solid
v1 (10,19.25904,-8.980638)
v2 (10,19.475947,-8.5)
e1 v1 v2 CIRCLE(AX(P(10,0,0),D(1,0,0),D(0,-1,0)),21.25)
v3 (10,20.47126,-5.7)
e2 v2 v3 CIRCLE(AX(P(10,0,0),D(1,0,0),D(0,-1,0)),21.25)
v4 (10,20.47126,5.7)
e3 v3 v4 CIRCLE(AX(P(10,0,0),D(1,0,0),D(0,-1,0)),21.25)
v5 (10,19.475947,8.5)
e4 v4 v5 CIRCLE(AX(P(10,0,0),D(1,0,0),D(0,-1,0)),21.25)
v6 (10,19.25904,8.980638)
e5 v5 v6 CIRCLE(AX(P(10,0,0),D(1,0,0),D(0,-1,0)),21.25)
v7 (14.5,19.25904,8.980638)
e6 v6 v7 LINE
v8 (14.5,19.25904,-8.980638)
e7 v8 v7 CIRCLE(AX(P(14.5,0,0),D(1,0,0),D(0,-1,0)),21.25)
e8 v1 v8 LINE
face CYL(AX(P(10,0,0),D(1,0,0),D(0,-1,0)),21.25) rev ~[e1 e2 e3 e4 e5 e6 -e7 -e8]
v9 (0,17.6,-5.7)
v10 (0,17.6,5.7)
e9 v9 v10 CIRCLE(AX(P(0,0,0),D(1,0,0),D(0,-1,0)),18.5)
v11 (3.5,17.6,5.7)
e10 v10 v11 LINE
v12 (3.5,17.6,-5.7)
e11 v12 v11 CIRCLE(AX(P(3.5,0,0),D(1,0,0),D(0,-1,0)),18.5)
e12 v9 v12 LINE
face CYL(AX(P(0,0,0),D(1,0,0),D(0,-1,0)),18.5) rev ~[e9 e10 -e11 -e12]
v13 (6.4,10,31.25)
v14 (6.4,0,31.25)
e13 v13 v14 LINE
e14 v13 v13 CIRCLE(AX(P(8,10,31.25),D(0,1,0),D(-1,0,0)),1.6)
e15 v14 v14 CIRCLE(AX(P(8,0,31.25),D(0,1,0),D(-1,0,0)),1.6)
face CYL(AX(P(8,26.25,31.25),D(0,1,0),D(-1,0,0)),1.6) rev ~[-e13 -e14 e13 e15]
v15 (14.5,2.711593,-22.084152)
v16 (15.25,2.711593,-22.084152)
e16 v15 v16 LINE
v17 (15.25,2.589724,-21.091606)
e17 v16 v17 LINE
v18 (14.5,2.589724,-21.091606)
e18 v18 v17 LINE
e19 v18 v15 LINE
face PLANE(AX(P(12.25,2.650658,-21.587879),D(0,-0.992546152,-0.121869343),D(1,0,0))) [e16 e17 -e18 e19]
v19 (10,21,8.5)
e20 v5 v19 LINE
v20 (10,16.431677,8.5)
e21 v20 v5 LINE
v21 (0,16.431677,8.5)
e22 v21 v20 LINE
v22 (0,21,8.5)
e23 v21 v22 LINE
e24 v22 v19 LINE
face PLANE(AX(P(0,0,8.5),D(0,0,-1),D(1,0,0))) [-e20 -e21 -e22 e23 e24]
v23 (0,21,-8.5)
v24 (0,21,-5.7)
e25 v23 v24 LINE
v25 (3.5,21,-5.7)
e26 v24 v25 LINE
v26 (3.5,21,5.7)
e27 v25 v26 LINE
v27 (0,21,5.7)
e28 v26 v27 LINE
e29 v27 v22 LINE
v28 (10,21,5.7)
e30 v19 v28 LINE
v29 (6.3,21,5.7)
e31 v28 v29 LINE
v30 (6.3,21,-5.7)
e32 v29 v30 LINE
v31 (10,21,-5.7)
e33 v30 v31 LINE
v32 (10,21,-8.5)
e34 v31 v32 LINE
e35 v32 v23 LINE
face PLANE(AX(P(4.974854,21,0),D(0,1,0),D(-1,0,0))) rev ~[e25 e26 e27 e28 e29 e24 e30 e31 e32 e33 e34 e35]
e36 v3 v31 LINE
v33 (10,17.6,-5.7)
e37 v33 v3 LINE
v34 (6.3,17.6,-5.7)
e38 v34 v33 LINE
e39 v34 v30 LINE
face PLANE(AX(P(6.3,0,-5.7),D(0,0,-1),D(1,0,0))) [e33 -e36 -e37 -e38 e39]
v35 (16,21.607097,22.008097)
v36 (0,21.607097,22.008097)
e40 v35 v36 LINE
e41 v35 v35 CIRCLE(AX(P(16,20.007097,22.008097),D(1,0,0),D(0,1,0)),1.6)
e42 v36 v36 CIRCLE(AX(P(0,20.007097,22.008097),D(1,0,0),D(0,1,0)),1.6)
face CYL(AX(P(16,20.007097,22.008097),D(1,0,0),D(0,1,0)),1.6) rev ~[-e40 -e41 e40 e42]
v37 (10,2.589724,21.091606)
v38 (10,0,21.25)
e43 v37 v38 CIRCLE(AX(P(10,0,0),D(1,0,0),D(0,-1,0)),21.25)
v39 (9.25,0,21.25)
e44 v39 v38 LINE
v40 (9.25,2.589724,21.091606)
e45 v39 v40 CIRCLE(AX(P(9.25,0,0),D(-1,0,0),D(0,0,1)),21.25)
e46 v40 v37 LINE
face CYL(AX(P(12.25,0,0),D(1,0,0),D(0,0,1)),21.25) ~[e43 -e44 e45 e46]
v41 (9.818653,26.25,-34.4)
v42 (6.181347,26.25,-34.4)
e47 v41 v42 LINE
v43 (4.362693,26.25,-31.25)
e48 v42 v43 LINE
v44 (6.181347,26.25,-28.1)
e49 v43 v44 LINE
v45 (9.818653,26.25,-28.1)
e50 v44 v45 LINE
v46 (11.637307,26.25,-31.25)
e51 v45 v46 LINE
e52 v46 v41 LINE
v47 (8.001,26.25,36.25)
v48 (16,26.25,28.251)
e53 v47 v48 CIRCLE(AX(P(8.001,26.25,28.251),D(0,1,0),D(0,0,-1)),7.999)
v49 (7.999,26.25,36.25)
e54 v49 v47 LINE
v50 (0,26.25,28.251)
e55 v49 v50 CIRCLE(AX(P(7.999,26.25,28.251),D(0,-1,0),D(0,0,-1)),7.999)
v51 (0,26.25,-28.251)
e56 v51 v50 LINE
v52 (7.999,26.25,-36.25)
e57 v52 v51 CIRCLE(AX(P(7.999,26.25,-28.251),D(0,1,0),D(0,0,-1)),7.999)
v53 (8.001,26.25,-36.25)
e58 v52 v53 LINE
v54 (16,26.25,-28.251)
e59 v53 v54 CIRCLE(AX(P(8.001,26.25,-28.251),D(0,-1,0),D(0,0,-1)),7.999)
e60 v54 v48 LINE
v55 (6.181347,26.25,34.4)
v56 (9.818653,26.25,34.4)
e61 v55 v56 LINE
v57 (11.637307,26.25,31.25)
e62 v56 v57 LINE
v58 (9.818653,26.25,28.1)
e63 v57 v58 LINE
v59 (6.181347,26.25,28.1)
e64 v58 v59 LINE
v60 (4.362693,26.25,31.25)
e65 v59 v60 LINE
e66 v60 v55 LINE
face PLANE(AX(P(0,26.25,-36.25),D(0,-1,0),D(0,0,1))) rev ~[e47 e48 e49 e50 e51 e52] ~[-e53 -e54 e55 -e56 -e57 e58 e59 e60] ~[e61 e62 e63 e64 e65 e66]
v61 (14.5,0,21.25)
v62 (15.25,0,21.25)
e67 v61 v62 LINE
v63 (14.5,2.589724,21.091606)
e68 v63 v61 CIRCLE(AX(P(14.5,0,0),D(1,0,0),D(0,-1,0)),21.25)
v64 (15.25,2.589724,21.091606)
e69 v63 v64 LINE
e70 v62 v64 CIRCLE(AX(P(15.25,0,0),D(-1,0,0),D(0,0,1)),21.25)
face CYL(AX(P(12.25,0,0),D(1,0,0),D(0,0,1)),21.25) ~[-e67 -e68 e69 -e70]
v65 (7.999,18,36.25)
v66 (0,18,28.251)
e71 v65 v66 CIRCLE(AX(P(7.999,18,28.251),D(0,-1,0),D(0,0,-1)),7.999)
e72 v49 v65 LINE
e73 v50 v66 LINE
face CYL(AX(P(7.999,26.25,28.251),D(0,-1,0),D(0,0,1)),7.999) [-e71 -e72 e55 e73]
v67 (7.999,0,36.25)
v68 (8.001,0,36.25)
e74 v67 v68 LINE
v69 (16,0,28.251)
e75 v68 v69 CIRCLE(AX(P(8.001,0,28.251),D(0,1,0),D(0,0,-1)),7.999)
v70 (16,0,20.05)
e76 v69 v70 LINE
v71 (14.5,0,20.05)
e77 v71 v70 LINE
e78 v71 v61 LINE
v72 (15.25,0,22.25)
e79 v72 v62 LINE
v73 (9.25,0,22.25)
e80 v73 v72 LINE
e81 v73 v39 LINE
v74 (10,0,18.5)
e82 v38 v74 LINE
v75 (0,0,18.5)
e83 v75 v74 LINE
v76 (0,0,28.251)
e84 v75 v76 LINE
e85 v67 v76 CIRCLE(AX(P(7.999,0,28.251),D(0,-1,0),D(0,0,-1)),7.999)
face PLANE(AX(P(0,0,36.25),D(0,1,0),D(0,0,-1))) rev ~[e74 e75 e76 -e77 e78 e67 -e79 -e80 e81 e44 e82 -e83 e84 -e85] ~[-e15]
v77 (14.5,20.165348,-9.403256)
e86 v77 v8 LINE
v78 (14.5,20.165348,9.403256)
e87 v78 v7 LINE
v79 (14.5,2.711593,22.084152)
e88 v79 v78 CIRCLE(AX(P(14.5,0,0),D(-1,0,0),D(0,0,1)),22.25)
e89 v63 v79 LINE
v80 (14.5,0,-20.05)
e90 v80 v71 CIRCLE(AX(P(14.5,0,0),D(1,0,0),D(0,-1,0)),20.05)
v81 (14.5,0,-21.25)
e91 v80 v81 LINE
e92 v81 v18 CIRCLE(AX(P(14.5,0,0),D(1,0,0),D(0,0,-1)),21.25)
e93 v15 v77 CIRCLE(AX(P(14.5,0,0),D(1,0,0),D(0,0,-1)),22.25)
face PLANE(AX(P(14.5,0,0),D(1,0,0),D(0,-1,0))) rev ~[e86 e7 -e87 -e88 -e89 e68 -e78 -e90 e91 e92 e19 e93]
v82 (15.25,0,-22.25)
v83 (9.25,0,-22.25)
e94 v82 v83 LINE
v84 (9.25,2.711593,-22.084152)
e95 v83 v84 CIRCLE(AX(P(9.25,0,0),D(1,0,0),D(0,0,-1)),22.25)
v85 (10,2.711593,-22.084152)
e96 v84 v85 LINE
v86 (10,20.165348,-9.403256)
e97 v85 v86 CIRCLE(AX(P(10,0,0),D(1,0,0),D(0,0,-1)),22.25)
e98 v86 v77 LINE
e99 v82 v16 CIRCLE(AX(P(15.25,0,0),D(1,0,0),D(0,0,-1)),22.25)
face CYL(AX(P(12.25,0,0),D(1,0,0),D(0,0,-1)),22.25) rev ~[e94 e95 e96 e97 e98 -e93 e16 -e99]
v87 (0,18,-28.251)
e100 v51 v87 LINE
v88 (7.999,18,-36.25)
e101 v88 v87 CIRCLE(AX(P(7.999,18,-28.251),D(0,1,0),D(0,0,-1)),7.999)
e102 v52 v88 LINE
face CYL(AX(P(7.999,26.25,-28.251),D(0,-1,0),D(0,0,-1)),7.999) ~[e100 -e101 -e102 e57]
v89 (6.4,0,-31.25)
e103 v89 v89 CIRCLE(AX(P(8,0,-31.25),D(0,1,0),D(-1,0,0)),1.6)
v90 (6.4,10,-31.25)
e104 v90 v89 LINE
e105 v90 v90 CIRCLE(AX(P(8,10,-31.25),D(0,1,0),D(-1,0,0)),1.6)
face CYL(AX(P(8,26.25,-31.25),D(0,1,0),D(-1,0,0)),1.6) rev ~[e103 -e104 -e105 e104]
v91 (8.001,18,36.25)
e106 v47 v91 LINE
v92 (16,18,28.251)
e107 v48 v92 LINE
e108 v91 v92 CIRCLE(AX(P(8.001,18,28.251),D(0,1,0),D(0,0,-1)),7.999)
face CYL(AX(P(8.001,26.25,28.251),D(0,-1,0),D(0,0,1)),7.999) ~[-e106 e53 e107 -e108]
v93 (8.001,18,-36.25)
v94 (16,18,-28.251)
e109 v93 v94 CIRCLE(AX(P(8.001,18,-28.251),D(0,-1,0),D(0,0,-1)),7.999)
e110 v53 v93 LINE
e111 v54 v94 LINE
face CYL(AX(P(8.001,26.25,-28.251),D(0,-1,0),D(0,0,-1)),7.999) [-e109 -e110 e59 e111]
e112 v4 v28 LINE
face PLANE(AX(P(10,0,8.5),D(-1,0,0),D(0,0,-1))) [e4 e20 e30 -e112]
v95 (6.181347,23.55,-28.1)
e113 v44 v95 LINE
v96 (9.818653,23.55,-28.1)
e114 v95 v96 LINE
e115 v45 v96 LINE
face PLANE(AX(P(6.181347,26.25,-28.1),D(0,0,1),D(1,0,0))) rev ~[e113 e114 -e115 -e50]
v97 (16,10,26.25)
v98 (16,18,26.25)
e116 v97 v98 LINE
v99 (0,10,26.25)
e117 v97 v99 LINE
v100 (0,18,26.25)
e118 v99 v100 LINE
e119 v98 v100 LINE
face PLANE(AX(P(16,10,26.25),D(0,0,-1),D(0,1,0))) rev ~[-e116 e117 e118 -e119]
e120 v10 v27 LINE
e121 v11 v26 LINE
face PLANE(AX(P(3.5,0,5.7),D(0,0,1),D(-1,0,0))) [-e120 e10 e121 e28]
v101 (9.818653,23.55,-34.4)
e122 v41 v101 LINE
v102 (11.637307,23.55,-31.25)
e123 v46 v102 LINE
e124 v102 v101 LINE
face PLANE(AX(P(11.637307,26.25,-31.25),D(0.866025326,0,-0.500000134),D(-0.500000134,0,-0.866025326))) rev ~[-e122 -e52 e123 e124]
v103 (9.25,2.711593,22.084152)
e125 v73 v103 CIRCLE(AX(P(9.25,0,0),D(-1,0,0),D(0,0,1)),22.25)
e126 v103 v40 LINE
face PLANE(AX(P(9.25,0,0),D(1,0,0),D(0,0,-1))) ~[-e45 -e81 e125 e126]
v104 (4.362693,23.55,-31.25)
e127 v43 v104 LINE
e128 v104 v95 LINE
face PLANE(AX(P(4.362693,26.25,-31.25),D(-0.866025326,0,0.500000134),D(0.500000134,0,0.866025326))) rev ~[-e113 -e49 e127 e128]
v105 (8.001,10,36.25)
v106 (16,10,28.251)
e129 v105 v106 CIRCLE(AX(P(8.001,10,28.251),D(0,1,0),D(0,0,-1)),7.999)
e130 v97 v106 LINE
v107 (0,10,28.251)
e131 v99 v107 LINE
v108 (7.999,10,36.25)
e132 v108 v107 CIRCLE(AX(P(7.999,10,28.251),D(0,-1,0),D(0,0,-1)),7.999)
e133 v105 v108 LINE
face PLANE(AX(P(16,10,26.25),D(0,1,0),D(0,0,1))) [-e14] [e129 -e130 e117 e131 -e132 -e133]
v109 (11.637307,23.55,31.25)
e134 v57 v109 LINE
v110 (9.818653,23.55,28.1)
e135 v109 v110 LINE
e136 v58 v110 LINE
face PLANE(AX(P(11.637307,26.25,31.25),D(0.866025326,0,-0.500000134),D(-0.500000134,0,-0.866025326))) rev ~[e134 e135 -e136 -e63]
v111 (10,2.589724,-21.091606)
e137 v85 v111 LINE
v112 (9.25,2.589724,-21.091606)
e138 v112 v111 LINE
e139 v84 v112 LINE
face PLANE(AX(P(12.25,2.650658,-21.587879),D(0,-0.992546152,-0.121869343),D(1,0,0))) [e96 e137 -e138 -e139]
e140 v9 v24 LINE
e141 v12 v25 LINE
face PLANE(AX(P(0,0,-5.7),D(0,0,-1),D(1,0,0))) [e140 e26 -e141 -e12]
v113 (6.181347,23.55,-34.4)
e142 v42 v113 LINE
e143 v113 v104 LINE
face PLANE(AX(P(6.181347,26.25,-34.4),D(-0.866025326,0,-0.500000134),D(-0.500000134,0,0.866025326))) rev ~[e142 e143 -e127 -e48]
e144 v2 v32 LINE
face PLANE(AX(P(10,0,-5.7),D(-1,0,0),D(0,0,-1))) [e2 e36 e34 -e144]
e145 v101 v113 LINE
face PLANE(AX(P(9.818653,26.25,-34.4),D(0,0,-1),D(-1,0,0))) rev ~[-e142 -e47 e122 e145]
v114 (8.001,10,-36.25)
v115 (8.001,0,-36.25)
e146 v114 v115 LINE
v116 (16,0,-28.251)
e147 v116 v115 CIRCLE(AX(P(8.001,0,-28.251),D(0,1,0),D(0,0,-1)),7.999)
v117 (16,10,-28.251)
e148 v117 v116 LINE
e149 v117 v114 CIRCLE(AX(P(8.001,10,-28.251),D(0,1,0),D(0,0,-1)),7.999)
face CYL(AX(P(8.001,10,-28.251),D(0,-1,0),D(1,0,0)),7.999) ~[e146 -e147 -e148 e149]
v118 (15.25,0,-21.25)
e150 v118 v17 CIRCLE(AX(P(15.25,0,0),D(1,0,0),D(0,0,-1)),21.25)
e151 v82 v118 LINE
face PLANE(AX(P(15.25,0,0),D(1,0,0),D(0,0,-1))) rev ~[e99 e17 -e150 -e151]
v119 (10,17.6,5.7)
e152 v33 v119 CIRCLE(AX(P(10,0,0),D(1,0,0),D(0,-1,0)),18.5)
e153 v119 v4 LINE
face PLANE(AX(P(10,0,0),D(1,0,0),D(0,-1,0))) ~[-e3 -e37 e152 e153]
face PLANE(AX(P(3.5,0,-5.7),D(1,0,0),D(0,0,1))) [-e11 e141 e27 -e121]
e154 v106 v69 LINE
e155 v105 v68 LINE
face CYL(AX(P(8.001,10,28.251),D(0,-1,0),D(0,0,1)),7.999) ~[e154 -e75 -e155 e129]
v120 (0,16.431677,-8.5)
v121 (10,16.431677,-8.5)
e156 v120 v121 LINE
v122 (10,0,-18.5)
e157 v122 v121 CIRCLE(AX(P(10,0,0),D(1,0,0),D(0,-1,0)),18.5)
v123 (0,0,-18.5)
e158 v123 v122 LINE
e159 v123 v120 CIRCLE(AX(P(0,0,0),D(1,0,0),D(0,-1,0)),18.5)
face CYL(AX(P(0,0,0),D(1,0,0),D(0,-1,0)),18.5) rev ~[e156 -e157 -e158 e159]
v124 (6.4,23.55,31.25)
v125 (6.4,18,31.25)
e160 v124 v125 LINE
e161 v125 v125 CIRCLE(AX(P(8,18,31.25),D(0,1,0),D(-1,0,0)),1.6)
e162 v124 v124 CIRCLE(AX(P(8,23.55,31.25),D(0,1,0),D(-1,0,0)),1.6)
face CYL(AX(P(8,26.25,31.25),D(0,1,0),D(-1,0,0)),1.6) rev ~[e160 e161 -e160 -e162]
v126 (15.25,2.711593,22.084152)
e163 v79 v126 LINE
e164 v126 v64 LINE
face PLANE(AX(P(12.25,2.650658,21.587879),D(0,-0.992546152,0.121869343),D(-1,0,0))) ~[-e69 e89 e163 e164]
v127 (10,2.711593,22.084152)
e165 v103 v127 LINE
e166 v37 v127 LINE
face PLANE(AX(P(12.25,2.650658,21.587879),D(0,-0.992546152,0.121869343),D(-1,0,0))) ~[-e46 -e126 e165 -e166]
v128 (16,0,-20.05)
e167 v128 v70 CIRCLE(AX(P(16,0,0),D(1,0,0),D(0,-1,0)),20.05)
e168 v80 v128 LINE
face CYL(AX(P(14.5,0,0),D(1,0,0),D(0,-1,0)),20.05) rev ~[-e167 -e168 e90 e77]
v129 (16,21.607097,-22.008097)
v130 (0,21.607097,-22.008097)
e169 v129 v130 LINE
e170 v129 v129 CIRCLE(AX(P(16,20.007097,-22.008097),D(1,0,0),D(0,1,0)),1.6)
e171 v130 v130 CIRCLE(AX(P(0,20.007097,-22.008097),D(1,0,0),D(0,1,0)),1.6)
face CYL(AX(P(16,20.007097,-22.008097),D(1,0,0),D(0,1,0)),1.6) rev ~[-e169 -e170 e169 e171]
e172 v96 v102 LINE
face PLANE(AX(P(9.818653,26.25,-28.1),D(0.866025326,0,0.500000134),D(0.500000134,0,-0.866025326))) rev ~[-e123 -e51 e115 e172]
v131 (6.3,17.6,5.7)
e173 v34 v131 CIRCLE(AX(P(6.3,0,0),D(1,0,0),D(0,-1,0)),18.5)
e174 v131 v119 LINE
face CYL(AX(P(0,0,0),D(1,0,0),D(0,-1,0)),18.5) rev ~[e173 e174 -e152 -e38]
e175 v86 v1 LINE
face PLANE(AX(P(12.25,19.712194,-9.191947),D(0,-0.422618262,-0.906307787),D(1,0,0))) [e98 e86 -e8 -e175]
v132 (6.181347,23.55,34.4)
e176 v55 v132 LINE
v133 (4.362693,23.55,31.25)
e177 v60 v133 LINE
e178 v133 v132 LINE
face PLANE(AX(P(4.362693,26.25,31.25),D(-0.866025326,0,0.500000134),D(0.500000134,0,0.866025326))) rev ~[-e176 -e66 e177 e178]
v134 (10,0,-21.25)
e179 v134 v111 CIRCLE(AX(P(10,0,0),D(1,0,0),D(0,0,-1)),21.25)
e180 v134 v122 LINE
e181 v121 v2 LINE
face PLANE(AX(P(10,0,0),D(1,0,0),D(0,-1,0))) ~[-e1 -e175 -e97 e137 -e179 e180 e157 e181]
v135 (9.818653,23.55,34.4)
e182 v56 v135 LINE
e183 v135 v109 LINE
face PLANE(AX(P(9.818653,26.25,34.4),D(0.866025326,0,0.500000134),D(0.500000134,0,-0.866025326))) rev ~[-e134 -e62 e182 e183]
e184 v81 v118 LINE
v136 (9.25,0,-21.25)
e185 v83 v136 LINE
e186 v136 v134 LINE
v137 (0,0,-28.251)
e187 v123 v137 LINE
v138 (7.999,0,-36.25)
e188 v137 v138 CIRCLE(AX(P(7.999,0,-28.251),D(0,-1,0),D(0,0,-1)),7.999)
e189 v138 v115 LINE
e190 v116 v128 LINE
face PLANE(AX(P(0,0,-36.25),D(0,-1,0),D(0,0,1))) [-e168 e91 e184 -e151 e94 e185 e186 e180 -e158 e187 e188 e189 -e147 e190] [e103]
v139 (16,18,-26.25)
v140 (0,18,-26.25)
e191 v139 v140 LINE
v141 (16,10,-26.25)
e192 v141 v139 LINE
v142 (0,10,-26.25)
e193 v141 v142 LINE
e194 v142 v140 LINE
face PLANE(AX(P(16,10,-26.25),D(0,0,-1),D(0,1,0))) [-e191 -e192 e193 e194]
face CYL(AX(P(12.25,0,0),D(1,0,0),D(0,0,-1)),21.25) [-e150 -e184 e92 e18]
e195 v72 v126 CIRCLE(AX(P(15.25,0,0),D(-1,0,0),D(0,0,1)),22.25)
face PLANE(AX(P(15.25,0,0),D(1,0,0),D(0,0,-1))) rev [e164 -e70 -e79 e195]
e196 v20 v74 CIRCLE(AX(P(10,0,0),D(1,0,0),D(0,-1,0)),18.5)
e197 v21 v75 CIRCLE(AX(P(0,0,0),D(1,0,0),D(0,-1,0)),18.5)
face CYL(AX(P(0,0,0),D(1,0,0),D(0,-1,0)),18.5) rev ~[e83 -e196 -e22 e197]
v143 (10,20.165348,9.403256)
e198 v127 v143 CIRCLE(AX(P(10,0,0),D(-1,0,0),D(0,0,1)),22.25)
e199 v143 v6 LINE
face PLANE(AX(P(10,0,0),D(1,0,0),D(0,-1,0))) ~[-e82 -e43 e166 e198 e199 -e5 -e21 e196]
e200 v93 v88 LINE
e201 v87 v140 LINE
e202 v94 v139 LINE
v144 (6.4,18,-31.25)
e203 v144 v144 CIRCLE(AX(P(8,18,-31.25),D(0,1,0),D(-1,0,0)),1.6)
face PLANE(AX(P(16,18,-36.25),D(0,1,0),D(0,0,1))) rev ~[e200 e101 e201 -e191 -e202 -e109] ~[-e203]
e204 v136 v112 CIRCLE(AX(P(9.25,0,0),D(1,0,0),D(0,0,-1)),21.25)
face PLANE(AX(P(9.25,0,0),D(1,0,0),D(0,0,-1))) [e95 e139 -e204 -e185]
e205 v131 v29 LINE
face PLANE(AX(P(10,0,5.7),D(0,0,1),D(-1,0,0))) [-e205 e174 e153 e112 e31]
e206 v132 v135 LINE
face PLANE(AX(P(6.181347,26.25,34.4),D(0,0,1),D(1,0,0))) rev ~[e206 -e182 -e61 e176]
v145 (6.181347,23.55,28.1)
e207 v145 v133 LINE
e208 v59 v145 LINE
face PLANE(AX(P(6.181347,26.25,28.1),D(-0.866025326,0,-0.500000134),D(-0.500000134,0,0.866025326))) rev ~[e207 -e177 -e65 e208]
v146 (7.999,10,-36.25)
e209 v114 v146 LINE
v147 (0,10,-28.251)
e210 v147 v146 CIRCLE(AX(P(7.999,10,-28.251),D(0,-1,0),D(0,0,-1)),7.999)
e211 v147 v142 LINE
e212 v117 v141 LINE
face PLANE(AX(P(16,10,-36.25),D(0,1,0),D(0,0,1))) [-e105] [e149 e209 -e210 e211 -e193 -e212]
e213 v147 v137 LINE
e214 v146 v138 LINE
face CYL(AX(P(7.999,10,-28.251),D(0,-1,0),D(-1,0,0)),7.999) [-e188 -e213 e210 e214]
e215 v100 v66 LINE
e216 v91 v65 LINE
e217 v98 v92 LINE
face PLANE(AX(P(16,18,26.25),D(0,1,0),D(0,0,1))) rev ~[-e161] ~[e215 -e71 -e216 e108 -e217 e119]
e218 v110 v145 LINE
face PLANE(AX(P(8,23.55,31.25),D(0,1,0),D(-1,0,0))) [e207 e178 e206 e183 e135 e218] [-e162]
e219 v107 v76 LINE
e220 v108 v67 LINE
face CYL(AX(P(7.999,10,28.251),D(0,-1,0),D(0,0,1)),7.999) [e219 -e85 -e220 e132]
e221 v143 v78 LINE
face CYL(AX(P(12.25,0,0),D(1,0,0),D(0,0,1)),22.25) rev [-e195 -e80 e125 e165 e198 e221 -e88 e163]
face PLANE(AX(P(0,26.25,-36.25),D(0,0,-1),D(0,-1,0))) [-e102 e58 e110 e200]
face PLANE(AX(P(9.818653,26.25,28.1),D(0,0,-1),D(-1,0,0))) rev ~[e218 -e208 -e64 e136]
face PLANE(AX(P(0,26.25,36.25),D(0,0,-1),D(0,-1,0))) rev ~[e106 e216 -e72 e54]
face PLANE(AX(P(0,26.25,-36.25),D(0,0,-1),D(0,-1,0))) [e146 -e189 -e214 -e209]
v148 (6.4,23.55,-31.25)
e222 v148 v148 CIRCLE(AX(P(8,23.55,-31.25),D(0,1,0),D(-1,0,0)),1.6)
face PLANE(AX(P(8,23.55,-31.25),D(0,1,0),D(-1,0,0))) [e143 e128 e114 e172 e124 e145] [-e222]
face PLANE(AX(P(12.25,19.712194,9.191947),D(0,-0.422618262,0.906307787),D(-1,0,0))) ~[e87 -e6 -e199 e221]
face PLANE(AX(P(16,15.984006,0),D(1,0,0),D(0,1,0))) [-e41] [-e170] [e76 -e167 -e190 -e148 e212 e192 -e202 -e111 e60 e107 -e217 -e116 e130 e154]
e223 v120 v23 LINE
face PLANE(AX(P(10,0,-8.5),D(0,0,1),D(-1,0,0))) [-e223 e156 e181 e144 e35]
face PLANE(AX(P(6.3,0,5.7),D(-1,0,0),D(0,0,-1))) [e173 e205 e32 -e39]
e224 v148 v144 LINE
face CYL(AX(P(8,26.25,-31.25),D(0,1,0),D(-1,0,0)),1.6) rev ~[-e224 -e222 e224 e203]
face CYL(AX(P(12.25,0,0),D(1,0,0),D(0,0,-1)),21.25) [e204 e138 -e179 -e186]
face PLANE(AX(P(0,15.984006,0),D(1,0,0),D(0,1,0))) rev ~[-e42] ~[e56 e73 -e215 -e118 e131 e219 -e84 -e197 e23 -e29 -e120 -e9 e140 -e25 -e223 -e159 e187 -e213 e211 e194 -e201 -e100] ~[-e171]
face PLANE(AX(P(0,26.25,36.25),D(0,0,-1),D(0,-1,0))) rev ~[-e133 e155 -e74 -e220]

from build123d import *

# Parameters (mm, degrees)
SKETCH001_W     = 23.25
SKETCH001_H     = 46.5
POCKET_DEPTH    = 16.001
POCKET001_DEPTH = 21
SKETCH003_W     = 4.5
SKETCH003_H     = 1
GROOVE_ANGLE    = 65
SKETCH004_W     = 6
SKETCH004_H     = 1
GROOVE001_ANGLE = 7
PAD_DEPTH       = 16
SKETCH006_W     = 8
SKETCH006_H     = 10
POCKET002_DEPTH = 16.001
SKETCH007_R     = 1.6
POCKET003_DEPTH = 26.251
POCKET004_DEPTH = 2.7
FILLET_R        = 7.999
SKETCH009_R     = 1.6
POCKET005_DEPTH = 16.001


with BuildPart() as part:
    # Sketch → Revolution (revolve)
    with BuildSketch(Plane.XY):
        Polygon((0, -18.5), (10, -18.5), (10, -21.25), (14.5, -21.25), (14.5, -20.05), (16, -20.05), (16, -23.25), (14.5, -23.25), (10, -23.25), (0, -23.25), align=None)
    revolve(axis=Axis((0, 0, 0), (1, 0, 0)))

    # Sketch001 (on Face9 of Revolution) → Pocket (cut, through all)
    with BuildSketch(Plane.YZ.offset(16)):
        with Locations((-11.625, 0)):
            Rectangle(SKETCH001_W, SKETCH001_H)
    extrude(amount=-POCKET_DEPTH, mode=Mode.SUBTRACT)

    # Sketch002 (on Face2 of Pocket) → Pocket001 (cut)
    with BuildSketch(Plane.XZ):
        Polygon((0, 8.5), (10, 8.5), (10, 5.7), (6.3, 5.7), (6.3, -5.7), (10, -5.7), (10, -8.5), (0, -8.5), (0, -5.7), (3.5, -5.7), (3.5, 5.7), (0, 5.7), align=None)
    extrude(amount=-POCKET001_DEPTH, mode=Mode.SUBTRACT)

    # Sketch003 (on Face4 of Pocket001) → Groove (revolve, cut)
    with BuildSketch(Plane.XZ):
        with Locations((12.25, -21.75)):
            Rectangle(SKETCH003_W, SKETCH003_H)
    groove = revolve(axis=Axis((0, 0, 0), (1, 0, 0)), revolution_arc=GROOVE_ANGLE, mode=Mode.SUBTRACT)

    # Sketch004 (on Face4 of Groove) → Groove001 (revolve, cut)
    with BuildSketch(Plane.XZ):
        with Locations((12.25, -21.75)):
            Rectangle(SKETCH004_W, SKETCH004_H)
    groove001 = revolve(axis=Axis((0, 0, 0), (1, 0, 0)), revolution_arc=GROOVE001_ANGLE, mode=Mode.SUBTRACT)

    # Sketch005 (on Face12 of Groove001) → Pad (join)
    with BuildSketch(Plane(origin=(0, 0, 0), x_dir=(0, -1, 0), z_dir=(-1, 0, 0))):
        with BuildLine():
            ThreePointArc((0, 23.25), (-23.25, 0), (0, -23.25))
            Line((0, -36.25), (0, -23.25))
            Line((-26.25, -36.25), (0, -36.25))
            Line((-26.25, -36.25), (-26.25, 36.25))
            Line((-26.25, 36.25), (0, 36.25))
            Line((0, 36.25), (0, 23.25))
        make_face()
    extrude(amount=-PAD_DEPTH)

    # Sketch006 (on Face11 of Pad) → Pocket002 (cut, through all)
    with BuildSketch(Plane.YZ.offset(16)):
        with Locations((14, 31.25)):
            Rectangle(SKETCH006_W, SKETCH006_H)
        with Locations((14, -31.25)):
            Rectangle(SKETCH006_W, SKETCH006_H)
    extrude(amount=-POCKET002_DEPTH, mode=Mode.SUBTRACT)

    # Sketch007 (on Face40 of Pocket002) → Pocket003 (cut, through all)
    with BuildSketch(Plane(origin=(0, 26.25, 0), x_dir=(-1, 0, 0), z_dir=(0, 1, 0))):
        with Locations((-8, 31.25)):
            Circle(SKETCH007_R)
        with Locations((-8, -31.25)):
            Circle(SKETCH007_R)
    extrude(amount=-POCKET003_DEPTH, mode=Mode.SUBTRACT)

    # Sketch008 (on Face41 of Pocket003) → Pocket004 (cut)
    with BuildSketch(Plane(origin=(0, 26.25, 0), x_dir=(-1, 0, 0), z_dir=(0, 1, 0))):
        Polygon((-9.818653, 34.4), (-11.637307, 31.25), (-9.818653, 28.1), (-6.181347, 28.1), (-4.362693, 31.25), (-6.181347, 34.4), align=None)
        Polygon((-9.818653, -28.1), (-11.637307, -31.25), (-9.818653, -34.4), (-6.181347, -34.4), (-4.362693, -31.25), (-6.181347, -28.1), align=None)
    extrude(amount=-POCKET004_DEPTH, mode=Mode.SUBTRACT)

    # Mirrored: Groove001, Groove across XY
    add(groove001.mirror(Plane.XY), mode=Mode.SUBTRACT)
    add(groove.mirror(Plane.XY), mode=Mode.SUBTRACT)

    # Fillet
    fillet_edges = [part.edges().sort_by_distance(p)[0] for p in [
        (0, 22.125, 36.25),
        (0, 5, 36.25),
        (16, 5, 36.25),
        (16, 22.125, 36.25),
        (0, 22.125, -36.25),
        (0, 5, -36.25),
        (16, 22.125, -36.25),
        (16, 5, -36.25),
    ]]
    fillet(fillet_edges, radius=FILLET_R)

    # Sketch009 (on Face7 of Fillet) → Pocket005 (cut, through all)
    with BuildSketch(Plane.YZ.offset(16)):
        with Locations((20.007097, 22.008097)):
            Circle(SKETCH009_R)
        with Locations((20.007097, -22.008097)):
            Circle(SKETCH009_R)
    extrude(amount=-POCKET005_DEPTH, mode=Mode.SUBTRACT)


solid = part.part
